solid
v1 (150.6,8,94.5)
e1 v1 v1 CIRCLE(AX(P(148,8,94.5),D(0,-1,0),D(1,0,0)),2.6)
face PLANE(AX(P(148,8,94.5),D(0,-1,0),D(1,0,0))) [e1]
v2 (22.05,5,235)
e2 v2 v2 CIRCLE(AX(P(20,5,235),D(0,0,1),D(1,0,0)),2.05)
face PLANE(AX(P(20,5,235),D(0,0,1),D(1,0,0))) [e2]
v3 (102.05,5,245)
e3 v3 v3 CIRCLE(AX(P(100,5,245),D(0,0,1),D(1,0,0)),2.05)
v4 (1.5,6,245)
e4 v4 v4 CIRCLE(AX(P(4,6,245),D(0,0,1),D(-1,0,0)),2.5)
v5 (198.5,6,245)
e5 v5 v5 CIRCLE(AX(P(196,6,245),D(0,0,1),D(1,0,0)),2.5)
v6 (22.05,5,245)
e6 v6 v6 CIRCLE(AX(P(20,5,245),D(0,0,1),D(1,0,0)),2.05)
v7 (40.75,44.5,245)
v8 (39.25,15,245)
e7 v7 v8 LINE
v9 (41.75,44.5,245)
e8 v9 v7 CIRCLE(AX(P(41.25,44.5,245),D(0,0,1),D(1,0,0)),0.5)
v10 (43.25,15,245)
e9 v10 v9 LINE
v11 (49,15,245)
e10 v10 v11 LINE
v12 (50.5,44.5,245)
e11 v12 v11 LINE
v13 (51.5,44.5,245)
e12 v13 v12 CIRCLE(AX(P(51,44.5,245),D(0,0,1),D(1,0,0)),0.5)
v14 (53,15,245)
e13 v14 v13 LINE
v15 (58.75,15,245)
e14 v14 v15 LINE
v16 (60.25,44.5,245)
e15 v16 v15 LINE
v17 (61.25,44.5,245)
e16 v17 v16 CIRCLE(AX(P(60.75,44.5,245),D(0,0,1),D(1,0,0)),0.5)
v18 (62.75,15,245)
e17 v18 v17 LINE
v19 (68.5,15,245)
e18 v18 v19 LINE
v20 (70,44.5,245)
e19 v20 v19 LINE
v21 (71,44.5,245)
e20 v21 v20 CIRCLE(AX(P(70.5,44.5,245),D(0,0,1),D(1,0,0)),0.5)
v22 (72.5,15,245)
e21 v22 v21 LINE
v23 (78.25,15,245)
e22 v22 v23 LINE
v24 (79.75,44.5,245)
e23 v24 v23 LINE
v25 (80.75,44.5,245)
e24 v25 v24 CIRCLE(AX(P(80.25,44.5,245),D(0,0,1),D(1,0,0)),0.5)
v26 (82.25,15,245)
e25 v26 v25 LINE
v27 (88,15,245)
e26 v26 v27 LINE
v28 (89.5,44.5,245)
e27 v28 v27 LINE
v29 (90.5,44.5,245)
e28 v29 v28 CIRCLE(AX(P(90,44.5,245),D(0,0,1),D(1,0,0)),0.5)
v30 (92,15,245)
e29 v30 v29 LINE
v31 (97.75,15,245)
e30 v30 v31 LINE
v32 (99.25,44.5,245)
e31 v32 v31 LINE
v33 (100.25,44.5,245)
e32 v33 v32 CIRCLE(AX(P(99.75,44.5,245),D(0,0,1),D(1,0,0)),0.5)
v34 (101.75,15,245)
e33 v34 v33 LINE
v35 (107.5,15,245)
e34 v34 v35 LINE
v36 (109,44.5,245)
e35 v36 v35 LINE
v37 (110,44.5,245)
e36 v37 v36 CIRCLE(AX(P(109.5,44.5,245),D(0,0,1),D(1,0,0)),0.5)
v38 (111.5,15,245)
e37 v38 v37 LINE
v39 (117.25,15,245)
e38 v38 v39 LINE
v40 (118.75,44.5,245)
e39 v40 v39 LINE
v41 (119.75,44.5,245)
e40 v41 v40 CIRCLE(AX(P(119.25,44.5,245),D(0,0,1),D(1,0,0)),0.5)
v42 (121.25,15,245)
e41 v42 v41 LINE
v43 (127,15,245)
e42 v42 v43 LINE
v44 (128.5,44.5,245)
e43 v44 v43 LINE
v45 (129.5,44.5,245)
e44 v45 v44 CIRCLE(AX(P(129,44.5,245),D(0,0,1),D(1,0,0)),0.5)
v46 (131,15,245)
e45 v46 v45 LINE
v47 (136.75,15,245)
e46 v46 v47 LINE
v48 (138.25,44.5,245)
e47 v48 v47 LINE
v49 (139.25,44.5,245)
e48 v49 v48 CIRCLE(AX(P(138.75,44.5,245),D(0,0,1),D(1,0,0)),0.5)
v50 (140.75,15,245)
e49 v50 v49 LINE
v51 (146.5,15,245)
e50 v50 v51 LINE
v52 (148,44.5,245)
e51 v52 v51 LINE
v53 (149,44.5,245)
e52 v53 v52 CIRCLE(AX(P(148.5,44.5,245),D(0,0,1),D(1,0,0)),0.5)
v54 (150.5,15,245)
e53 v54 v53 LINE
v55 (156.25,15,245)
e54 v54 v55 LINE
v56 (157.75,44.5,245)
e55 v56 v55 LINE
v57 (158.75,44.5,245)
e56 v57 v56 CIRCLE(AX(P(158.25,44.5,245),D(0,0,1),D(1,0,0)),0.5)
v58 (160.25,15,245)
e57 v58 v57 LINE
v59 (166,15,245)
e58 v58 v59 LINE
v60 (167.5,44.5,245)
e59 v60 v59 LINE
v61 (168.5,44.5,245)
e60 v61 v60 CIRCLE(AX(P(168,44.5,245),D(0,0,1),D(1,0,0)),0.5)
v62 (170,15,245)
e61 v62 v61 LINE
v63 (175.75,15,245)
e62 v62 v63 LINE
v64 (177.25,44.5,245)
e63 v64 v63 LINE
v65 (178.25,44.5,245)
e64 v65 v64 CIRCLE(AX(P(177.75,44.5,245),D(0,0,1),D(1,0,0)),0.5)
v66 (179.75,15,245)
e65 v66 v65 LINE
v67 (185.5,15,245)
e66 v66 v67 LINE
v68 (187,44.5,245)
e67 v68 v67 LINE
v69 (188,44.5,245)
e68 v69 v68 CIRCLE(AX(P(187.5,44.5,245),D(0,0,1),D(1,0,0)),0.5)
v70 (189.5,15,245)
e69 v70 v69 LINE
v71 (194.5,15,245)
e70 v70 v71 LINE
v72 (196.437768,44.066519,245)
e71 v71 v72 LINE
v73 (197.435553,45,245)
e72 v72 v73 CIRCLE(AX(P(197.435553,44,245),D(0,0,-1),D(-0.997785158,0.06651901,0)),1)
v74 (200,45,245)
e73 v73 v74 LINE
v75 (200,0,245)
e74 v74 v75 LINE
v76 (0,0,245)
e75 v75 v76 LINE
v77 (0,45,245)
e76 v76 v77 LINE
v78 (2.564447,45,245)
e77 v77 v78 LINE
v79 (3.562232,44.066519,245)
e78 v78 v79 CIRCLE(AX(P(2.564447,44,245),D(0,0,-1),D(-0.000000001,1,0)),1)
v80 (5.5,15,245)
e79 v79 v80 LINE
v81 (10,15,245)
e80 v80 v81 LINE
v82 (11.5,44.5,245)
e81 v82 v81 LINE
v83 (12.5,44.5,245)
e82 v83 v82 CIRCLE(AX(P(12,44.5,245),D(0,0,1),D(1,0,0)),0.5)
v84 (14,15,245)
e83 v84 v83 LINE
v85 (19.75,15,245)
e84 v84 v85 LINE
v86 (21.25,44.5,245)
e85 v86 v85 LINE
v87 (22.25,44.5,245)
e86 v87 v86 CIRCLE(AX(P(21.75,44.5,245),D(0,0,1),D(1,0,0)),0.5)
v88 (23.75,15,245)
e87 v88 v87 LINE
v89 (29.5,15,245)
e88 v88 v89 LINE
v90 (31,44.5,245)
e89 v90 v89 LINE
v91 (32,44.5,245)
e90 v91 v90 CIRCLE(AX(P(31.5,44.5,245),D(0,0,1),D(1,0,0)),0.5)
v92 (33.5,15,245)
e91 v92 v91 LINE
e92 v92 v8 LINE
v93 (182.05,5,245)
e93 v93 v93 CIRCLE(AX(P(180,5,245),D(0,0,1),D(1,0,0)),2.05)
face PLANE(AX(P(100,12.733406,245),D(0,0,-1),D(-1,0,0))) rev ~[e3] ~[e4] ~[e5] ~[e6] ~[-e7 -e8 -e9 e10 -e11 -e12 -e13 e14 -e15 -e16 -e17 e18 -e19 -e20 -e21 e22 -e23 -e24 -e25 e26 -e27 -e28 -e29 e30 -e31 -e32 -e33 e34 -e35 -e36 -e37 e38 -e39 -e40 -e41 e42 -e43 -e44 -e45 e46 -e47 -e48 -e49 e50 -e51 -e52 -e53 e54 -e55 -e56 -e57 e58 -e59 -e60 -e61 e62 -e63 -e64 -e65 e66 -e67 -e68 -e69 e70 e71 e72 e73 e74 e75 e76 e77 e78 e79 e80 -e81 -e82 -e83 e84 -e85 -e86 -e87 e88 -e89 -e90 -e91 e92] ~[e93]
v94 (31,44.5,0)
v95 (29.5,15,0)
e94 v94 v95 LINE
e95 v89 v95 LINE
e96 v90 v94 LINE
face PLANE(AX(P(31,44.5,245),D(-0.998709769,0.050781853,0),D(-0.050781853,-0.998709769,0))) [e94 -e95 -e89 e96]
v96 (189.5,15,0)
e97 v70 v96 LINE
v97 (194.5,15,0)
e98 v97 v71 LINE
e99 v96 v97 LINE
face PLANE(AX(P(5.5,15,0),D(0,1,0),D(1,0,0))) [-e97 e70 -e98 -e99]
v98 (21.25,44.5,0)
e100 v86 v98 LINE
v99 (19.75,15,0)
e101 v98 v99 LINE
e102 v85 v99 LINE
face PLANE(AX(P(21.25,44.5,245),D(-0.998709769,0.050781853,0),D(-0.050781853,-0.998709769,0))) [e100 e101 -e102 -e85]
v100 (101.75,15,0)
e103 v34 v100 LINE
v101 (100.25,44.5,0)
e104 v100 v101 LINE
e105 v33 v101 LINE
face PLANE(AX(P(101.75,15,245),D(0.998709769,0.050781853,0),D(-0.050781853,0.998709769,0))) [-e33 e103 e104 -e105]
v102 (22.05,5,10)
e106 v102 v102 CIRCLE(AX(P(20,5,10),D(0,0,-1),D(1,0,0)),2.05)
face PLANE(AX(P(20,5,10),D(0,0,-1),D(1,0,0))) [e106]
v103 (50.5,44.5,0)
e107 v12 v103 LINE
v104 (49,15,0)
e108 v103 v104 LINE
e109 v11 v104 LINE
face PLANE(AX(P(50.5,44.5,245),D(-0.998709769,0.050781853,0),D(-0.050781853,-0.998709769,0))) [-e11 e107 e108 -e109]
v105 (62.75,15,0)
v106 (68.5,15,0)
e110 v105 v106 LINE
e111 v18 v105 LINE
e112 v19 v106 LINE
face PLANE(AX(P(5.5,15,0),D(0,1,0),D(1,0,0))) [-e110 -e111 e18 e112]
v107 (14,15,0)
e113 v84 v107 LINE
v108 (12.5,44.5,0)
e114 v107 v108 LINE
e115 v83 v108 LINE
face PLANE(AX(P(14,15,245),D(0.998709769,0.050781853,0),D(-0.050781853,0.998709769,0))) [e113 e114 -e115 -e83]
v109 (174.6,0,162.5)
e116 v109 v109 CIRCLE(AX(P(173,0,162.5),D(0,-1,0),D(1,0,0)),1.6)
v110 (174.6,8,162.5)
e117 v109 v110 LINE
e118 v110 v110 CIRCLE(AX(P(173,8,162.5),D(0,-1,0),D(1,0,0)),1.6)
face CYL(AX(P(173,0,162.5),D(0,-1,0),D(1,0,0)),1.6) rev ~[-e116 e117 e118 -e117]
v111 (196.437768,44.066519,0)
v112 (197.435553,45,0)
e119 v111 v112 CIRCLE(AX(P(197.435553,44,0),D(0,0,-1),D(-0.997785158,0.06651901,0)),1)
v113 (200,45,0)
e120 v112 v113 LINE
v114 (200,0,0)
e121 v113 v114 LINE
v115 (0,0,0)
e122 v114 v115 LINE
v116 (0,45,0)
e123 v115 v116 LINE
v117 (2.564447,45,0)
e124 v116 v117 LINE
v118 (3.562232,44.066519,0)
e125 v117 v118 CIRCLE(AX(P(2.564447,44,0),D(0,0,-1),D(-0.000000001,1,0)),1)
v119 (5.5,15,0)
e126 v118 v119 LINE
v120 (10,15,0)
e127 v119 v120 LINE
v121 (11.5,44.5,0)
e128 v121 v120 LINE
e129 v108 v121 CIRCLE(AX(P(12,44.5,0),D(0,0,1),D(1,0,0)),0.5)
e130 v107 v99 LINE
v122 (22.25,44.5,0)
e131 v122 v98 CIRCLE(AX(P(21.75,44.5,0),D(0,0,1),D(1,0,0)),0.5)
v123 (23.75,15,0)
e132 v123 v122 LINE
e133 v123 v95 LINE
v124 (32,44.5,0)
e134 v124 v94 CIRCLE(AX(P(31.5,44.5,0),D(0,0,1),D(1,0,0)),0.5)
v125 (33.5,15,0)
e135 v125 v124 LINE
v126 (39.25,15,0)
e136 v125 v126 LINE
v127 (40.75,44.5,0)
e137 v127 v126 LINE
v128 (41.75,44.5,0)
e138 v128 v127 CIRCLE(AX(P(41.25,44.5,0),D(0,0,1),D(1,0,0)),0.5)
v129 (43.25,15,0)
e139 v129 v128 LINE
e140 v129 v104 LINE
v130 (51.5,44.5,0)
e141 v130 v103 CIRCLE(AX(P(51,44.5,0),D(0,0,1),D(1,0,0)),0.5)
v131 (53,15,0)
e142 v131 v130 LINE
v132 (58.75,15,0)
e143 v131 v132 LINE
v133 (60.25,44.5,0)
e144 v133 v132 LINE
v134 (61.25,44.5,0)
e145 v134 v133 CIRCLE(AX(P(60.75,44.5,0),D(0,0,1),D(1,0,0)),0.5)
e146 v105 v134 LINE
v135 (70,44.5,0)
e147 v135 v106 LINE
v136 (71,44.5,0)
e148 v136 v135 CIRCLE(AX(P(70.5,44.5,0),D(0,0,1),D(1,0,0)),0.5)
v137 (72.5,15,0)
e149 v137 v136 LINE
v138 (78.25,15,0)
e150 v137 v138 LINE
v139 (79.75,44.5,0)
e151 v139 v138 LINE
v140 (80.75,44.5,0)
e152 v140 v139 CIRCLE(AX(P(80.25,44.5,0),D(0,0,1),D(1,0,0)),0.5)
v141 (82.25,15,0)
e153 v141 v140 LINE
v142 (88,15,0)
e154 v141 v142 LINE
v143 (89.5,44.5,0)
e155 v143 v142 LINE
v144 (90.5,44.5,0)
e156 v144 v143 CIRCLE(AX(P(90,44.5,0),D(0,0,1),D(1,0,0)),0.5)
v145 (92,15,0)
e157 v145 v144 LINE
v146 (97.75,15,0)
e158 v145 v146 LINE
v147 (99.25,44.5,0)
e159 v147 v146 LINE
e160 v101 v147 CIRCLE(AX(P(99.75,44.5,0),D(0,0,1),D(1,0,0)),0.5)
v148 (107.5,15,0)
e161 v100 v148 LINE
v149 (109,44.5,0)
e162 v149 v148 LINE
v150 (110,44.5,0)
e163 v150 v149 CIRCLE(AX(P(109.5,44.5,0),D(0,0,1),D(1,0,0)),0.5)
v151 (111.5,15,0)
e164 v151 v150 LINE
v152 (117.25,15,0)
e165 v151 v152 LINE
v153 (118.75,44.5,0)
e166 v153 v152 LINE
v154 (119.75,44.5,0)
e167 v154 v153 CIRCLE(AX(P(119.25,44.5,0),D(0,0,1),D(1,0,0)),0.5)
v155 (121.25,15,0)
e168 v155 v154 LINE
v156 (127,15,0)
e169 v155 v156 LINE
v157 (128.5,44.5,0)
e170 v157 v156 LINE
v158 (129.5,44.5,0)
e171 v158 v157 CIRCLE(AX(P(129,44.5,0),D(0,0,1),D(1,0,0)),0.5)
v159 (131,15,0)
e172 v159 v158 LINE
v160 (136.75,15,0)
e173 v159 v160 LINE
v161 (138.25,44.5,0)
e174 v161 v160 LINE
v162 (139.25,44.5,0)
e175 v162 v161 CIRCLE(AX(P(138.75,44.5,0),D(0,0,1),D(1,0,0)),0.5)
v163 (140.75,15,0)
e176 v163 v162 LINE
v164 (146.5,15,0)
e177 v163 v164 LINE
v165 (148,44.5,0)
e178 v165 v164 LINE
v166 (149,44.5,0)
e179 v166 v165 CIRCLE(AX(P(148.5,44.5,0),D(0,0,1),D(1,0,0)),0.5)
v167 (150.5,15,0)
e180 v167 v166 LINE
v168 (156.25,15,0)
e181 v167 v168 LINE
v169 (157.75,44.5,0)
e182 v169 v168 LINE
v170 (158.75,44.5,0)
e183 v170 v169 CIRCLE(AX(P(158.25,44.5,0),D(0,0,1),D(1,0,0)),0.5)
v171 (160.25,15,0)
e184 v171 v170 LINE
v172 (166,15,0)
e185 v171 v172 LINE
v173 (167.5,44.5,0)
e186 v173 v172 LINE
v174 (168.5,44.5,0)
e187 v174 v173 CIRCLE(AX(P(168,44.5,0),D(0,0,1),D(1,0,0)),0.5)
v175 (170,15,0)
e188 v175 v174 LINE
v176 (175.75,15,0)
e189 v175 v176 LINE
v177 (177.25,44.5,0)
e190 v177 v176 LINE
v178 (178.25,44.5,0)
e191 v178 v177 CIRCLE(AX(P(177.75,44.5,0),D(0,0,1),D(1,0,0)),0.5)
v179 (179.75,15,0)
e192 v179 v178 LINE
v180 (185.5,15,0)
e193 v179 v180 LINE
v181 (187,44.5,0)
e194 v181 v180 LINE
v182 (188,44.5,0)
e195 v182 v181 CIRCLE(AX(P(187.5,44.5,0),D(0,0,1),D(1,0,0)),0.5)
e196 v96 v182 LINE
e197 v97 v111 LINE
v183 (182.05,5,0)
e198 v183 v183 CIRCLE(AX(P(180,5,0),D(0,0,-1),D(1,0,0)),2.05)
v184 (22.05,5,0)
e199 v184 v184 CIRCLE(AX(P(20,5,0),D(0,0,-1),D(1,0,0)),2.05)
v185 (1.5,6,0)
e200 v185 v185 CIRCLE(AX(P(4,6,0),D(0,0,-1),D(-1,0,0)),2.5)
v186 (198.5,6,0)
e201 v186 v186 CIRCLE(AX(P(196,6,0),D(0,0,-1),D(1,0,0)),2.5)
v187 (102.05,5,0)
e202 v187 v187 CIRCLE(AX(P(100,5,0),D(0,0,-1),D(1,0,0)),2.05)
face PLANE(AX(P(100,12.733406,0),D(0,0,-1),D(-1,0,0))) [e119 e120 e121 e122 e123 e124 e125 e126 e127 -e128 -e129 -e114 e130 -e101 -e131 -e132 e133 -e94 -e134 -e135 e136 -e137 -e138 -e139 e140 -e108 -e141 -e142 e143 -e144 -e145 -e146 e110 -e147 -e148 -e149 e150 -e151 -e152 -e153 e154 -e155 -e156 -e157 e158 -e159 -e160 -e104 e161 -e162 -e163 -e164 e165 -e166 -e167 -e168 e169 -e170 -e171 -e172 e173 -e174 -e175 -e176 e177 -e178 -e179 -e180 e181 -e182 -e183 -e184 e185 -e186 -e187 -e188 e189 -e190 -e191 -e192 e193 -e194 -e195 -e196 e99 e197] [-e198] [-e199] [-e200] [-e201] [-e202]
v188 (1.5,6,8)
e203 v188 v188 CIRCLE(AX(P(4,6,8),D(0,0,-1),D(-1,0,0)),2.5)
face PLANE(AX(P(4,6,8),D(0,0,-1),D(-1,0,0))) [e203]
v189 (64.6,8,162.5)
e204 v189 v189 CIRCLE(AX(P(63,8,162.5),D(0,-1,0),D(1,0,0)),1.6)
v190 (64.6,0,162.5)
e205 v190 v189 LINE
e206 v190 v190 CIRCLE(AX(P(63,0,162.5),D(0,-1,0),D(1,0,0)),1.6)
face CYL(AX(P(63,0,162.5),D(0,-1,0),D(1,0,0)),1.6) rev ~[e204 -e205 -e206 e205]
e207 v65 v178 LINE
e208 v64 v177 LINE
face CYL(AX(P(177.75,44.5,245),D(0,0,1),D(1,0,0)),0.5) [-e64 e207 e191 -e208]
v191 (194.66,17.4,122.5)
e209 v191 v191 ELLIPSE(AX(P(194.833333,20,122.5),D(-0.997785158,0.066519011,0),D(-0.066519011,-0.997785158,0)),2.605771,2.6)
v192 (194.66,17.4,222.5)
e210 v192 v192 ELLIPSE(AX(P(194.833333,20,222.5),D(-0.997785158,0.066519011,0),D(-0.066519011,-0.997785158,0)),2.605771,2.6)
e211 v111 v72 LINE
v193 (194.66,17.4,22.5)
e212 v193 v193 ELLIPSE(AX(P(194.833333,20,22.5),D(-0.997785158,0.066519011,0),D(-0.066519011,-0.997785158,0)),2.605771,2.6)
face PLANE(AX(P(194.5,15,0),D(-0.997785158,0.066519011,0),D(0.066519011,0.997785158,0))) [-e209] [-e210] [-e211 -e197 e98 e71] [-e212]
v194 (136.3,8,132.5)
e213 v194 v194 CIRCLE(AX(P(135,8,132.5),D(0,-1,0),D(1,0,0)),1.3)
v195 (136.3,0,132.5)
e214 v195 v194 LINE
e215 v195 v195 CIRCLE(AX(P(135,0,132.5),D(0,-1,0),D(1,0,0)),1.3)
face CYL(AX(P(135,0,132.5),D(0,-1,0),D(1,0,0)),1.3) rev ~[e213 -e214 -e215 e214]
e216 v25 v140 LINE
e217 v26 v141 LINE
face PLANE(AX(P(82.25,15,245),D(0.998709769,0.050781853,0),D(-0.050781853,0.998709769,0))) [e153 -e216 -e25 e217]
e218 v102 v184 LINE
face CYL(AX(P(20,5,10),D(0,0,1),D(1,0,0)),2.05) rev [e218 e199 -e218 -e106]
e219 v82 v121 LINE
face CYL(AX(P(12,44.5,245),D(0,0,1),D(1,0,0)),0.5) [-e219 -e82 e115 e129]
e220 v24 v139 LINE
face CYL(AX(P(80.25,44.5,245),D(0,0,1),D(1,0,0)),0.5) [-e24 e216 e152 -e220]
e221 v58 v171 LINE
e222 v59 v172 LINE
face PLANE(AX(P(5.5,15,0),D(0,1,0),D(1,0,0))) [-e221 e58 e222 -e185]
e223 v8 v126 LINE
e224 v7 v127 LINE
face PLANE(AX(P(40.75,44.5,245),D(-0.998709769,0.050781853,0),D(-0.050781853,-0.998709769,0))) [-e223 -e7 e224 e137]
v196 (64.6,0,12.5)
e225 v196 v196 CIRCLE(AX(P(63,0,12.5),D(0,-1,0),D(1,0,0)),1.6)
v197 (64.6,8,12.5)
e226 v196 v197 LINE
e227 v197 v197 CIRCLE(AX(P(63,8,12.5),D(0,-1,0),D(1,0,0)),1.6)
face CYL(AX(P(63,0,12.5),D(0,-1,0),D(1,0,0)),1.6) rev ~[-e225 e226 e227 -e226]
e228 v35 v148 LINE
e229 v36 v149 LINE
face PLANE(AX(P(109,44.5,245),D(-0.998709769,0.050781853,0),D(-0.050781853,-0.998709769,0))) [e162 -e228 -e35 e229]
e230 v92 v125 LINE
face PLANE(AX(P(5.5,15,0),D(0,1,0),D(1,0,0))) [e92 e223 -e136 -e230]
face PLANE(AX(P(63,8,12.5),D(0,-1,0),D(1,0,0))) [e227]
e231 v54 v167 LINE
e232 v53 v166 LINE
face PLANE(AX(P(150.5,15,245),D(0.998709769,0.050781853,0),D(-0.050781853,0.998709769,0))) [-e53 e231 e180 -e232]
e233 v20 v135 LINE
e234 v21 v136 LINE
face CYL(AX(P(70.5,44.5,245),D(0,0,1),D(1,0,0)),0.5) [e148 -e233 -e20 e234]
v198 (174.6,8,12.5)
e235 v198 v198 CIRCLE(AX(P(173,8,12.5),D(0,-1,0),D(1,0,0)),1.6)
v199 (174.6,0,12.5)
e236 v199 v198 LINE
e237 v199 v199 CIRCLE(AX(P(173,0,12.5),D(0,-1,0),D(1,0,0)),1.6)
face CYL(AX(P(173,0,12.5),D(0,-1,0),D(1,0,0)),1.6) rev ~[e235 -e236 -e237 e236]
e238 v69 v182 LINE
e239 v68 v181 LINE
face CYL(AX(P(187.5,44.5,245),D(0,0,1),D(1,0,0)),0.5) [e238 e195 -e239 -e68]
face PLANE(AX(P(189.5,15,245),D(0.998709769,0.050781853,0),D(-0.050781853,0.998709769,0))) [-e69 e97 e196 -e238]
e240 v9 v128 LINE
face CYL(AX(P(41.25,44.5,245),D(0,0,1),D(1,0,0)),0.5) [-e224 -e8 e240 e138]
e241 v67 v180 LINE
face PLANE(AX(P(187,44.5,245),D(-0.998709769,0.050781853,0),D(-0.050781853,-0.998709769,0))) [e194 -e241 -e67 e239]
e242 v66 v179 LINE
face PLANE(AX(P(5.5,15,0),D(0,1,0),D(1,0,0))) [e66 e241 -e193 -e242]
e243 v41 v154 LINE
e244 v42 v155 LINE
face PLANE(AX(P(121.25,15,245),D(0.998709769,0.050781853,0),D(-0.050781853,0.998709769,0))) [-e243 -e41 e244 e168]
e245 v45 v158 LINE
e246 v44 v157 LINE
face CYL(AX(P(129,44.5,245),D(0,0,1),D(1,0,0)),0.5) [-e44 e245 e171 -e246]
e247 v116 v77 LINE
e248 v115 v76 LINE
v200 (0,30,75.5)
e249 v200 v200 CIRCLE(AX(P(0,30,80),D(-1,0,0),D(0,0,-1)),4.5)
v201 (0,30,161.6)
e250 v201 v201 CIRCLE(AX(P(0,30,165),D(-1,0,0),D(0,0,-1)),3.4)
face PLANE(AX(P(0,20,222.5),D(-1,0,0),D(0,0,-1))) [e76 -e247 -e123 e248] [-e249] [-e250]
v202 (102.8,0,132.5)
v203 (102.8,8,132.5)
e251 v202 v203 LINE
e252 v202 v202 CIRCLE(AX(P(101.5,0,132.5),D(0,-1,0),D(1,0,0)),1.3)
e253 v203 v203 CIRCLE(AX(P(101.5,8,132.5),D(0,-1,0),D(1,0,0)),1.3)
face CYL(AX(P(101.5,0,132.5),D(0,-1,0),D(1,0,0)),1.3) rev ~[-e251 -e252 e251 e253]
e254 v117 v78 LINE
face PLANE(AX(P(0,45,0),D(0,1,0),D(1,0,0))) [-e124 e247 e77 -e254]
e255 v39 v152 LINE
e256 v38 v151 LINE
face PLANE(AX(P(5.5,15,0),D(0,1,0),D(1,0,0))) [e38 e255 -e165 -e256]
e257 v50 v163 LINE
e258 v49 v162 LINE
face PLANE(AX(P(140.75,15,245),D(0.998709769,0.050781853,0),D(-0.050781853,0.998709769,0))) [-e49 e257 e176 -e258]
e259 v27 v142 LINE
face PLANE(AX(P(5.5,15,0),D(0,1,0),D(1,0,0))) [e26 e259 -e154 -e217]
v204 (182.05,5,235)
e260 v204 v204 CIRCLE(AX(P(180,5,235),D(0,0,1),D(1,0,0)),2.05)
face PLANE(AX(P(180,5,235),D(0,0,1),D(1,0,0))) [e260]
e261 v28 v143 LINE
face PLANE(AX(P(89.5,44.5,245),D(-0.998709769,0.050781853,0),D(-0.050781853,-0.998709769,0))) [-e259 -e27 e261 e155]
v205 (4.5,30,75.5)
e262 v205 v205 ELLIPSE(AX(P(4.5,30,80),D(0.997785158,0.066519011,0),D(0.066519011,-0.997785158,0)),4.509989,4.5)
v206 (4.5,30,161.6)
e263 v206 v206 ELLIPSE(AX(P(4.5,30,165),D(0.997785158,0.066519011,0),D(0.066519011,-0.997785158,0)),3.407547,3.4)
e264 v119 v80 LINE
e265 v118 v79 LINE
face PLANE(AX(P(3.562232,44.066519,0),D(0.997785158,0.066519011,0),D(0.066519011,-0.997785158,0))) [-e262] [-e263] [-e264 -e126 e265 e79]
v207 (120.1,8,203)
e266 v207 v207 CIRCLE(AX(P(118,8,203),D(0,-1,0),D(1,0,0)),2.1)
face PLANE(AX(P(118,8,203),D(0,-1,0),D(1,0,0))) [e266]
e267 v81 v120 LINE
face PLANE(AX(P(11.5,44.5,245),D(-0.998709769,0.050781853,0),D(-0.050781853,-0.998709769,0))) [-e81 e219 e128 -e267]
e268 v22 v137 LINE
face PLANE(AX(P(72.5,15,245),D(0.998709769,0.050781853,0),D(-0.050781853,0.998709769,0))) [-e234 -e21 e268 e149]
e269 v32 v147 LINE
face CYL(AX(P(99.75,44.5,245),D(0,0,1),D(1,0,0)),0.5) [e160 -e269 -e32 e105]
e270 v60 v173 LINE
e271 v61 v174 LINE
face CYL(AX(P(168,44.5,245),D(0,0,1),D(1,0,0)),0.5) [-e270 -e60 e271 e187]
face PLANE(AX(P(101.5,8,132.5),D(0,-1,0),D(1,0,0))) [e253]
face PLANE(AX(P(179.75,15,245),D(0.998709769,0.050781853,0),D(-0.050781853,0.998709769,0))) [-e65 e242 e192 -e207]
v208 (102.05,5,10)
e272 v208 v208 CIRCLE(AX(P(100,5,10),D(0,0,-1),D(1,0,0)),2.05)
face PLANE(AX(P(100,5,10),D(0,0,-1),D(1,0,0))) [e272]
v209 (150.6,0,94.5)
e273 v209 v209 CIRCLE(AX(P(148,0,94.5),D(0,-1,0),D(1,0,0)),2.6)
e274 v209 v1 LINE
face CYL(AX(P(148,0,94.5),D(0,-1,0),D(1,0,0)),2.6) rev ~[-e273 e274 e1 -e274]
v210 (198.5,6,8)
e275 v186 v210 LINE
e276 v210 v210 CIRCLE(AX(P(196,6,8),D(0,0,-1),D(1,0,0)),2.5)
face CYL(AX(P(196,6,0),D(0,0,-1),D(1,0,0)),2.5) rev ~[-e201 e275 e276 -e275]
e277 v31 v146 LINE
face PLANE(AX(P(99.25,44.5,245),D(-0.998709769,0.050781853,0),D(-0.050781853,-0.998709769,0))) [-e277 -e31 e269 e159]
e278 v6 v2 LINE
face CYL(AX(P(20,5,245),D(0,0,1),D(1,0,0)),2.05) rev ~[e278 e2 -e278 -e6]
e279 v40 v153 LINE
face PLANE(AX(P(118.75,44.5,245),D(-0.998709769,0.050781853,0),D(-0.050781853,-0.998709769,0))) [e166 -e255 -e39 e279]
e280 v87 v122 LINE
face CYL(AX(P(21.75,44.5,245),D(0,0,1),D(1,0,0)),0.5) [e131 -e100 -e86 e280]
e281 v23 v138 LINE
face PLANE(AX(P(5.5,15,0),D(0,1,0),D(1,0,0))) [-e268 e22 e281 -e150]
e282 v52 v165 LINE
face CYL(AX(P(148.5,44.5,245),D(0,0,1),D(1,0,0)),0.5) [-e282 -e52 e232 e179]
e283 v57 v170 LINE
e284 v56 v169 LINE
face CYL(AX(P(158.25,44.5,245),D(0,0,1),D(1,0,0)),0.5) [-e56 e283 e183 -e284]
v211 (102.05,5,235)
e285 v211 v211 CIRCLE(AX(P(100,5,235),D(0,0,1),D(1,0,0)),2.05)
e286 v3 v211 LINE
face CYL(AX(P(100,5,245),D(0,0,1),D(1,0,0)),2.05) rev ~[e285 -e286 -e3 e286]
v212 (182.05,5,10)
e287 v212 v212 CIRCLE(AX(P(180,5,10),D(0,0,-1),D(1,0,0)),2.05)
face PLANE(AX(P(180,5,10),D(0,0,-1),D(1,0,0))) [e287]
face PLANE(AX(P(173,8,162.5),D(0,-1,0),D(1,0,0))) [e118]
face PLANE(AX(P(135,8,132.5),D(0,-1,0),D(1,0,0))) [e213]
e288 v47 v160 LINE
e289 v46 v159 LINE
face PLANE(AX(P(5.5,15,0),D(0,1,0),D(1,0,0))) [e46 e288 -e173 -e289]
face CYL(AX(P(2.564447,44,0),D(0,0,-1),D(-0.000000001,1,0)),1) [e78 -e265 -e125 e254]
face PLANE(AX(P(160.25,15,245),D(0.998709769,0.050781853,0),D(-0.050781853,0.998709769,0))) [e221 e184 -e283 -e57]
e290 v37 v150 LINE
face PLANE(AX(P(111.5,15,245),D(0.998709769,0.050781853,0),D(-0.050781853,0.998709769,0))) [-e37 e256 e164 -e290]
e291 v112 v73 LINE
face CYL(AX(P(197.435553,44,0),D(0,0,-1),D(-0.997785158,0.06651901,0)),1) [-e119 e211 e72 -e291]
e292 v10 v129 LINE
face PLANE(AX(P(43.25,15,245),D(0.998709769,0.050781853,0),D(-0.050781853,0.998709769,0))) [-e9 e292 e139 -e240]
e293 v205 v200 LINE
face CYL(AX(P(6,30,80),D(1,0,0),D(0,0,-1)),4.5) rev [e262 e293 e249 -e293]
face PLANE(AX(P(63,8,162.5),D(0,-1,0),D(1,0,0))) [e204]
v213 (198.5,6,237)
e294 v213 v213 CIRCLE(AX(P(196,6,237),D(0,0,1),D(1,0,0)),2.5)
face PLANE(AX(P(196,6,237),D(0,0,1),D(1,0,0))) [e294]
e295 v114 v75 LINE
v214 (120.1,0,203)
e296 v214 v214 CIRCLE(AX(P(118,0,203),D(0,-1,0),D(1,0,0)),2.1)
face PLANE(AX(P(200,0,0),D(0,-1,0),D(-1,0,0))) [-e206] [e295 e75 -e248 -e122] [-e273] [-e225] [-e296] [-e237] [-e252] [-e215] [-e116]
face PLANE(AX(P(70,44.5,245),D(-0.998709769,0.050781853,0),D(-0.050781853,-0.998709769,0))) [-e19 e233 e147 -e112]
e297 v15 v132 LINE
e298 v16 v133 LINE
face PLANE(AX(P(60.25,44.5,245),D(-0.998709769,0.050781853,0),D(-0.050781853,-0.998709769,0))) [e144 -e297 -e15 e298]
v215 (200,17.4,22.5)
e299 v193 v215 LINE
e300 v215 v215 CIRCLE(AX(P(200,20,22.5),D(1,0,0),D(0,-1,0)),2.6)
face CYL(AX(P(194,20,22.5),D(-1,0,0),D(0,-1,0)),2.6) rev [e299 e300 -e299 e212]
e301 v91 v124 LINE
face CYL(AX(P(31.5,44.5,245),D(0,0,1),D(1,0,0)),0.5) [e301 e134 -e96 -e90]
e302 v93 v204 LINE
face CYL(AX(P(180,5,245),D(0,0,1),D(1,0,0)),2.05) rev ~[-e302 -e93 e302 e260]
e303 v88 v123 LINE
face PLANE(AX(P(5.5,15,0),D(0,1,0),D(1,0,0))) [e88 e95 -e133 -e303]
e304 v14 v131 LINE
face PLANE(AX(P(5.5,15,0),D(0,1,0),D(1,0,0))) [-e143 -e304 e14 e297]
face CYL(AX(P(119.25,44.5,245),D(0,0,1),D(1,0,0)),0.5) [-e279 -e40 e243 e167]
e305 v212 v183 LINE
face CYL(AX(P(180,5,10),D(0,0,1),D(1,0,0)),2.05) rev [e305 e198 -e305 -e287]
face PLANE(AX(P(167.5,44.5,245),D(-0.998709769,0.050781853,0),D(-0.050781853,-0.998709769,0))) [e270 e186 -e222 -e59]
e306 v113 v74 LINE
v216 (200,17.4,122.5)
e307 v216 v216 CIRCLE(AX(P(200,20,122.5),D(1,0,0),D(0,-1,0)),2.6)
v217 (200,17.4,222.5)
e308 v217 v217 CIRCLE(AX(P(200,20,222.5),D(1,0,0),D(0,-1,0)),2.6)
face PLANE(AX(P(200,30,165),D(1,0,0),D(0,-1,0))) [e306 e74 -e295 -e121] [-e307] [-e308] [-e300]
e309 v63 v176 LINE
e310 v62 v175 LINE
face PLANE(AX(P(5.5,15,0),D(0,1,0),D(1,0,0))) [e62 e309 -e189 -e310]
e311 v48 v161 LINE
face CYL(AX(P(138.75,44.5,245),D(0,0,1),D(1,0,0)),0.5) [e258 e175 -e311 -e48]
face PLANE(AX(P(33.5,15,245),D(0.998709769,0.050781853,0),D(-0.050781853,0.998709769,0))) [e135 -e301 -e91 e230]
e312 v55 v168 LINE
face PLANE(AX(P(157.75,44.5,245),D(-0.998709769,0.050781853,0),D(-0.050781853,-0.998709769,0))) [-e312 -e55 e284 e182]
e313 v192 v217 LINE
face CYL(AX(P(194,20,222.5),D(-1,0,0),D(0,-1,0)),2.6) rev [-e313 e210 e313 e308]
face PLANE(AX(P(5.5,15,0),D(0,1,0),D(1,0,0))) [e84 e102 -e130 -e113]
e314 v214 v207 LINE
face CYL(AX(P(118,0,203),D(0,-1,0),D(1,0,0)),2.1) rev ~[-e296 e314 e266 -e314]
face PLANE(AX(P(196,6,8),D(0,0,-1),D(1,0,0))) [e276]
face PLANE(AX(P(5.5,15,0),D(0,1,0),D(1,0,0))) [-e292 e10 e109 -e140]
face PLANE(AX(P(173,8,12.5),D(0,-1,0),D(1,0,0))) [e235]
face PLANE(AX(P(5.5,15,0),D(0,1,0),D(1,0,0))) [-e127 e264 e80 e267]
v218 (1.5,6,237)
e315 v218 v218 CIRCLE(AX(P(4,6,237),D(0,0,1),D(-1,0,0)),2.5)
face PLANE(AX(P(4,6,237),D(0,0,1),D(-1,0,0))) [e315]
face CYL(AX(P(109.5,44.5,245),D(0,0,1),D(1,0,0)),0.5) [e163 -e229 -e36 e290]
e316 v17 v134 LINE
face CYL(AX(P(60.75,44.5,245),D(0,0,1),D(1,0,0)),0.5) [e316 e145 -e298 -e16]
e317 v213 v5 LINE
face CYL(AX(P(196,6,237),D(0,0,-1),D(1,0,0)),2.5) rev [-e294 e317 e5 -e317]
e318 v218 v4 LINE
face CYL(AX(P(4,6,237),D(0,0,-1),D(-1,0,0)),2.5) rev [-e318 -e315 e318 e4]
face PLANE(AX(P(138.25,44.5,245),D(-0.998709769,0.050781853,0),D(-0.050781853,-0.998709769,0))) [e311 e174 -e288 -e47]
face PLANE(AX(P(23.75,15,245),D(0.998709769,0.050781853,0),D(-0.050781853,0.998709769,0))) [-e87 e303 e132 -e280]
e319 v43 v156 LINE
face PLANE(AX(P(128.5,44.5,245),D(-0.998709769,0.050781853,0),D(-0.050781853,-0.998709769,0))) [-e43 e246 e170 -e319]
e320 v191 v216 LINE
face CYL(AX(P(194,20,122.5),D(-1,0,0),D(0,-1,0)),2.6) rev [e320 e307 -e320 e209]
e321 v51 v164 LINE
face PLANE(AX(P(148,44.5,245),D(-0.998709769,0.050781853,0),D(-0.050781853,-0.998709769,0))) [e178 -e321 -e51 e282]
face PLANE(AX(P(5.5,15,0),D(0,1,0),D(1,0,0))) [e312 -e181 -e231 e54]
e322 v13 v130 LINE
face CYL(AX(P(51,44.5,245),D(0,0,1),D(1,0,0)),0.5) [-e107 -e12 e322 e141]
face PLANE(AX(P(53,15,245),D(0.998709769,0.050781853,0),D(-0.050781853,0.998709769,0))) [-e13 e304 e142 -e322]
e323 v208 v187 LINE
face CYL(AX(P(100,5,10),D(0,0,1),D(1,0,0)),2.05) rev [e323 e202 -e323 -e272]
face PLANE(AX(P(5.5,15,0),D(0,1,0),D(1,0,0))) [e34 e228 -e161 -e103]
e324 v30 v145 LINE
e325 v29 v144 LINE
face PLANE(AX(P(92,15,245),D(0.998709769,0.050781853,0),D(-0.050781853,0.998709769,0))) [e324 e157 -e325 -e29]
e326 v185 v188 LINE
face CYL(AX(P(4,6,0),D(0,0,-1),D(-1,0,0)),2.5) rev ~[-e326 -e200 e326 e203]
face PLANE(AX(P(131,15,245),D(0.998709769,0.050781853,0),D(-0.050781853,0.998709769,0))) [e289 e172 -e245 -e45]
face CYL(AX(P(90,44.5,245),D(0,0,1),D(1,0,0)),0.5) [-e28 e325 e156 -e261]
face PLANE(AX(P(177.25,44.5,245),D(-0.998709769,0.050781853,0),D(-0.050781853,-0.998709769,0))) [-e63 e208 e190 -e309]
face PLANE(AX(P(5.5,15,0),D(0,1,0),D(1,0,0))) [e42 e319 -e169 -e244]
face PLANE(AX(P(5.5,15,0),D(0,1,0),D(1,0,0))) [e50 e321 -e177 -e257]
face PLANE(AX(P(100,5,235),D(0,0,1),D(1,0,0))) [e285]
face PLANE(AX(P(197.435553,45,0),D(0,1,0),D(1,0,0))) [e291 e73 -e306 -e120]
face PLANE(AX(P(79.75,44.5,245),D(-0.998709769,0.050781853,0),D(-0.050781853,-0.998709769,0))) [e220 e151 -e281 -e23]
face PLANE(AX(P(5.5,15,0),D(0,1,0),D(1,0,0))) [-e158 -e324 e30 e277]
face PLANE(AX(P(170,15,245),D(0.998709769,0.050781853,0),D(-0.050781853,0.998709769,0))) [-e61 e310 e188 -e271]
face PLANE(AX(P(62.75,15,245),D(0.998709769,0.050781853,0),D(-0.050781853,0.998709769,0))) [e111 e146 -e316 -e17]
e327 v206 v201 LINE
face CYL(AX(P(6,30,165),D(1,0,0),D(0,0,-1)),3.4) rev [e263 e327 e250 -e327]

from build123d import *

# Parameters (mm, degrees)
EXTRUDE_1_DEPTH       = 245
EXTRUDE_3_DEPTH       = 245
PATTERN_CURVE_1_COUNT = 19
PATTERN_CURVE_1_PITCH = 9.75
SKETCH_3_R            = 2.05
CUT_EXTRUDE_1_DEPTH   = 10
CUT_EXTRUDE_START     = -10
SKETCH_5_R            = 2.05
CUT_EXTRUDE_2_DEPTH   = 10
SKETCH_6_R            = 2.5
CUT_EXTRUDE_3_DEPTH   = 8
SKETCH_7_R            = 2.6
CUT_EXTRUDE_4_DEPTH   = 6
SKETCH_8_R            = 4.5
SKETCH_8_R_2          = 3.4
CUT_EXTRUDE_5_DEPTH   = 6
CUT_EXTRUDE_START_2   = -6
SKETCH_9_R            = 2.6
CUT_EXTRUDE_6_DEPTH   = 6
SKETCH_10_R           = 3.4
SKETCH_10_R_2         = 4.5
CUT_EXTRUDE_7_DEPTH   = 6
EXTRUDE_4_REACH       = 321.453
SKETCH_11_R           = 2.6
EXTRUDE_5_REACH       = 321.453
SKETCH_12_R           = 4.5
SKETCH_12_R_2         = 3.4
CUT_EXTRUDE_START_3   = -8
SKETCH_14_R           = 2.5
CUT_EXTRUDE_9_DEPTH   = 8
SKETCH_18_R           = 2.1
SKETCH_18_R_2         = 1.6
SKETCH_18_R_3         = 1.3
SKETCH_18_R_4         = 2.6
CUT_EXTRUDE_11_DEPTH  = 8


with BuildPart() as part:
    # Эскиз1 → Вытянуть1 (new body)
    with BuildSketch(Plane.XY):
        with BuildLine():
            Line((0, 45), (2.564446908, 45))
            ThreePointArc((2.564446908, 45), (3.247630994, 44.730246195), (3.562232066, 44.066519011))
            Line((3.562232066, 44.066519011), (5.5, 15))
            Line((5.5, 15), (194.5, 15))
            Line((194.5, 15), (196.437767934, 44.066519011))
            ThreePointArc((196.437767934, 44.066519011), (196.752369006, 44.730246195), (197.435553092, 45))
            Line((197.435553092, 45), (200, 45))
            Line((200, 45), (200, 0))
            Line((200, 0), (0, 0))
            Line((0, 0), (0, 45))
        make_face()
    extrude(amount=EXTRUDE_1_DEPTH)

    # Эскиз2 → Вытянуть3 (add)
    with BuildSketch(Plane.XY.offset(245)):
        with BuildLine():
            Line((11.5, 44.5), (10, 15))
            Line((10, 15), (14, 15))
            Line((14, 15), (12.5, 44.5))
            ThreePointArc((12.5, 44.5), (12, 45), (11.5, 44.5))
        make_face()
    extrude_3 = extrude(amount=-EXTRUDE_3_DEPTH)

    # Кривая1: Вытянуть3 ×19
    with Locations(*[(i * PATTERN_CURVE_1_PITCH, 0, 0) for i in range(1, PATTERN_CURVE_1_COUNT)]):
        add(extrude_3)

    # Эскиз3 → Вырез-Вытянуть1 (cut)
    with BuildSketch(Plane.XY.offset(245)):
        with Locations((20, 5)):
            Circle(SKETCH_3_R)
        with Locations((100, 5)):
            Circle(SKETCH_3_R)
        with Locations((180, 5)):
            Circle(SKETCH_3_R)
    extrude(amount=-CUT_EXTRUDE_1_DEPTH, mode=Mode.SUBTRACT)

    # Эскиз5 → Вырез-Вытянуть2 (cut)
    with BuildSketch(Plane(origin=(0, 0, 0), x_dir=(-1, 0, 0), z_dir=(0, 0, -1)).offset(CUT_EXTRUDE_START)):
        with Locations(Location((-180, 5, 0), (0, 0, 180))):
            Circle(SKETCH_5_R)
        with Locations(Location((-100, 5, 0), (0, 0, 180))):
            Circle(SKETCH_5_R)
        with Locations(Location((-20, 5, 0), (0, 0, 180))):
            Circle(SKETCH_5_R)
    extrude(amount=CUT_EXTRUDE_2_DEPTH, mode=Mode.SUBTRACT)

    # Эскиз6 → Вырез-Вытянуть3 (cut)
    with BuildSketch(Plane(origin=(0, 0, 0), x_dir=(-1, 0, 0), z_dir=(0, 0, -1))):
        with Locations((-4, 6)):
            Circle(SKETCH_6_R)
        with Locations(Location((-196, 6, 0), (0, 0, 180))):
            Circle(SKETCH_6_R)
    extrude(amount=-CUT_EXTRUDE_3_DEPTH, mode=Mode.SUBTRACT)

    # Эскиз7 → Вырез-Вытянуть4 (cut)
    with BuildSketch(Plane.ZY):
        with Locations(Location((22.5, 20, 0), (0, 0, 270))):
            Circle(SKETCH_7_R)
        with Locations(Location((222.5, 20, 0), (0, 0, 270))):
            Circle(SKETCH_7_R)
        with Locations(Location((122.5, 20, 0), (0, 0, 270))):
            Circle(SKETCH_7_R)
    extrude(amount=-CUT_EXTRUDE_4_DEPTH, mode=Mode.SUBTRACT)

    # Эскиз8 → Вырез-Вытянуть5 (cut)
    with BuildSketch(Plane(origin=(200, 0, 0), x_dir=(0, 0, -1), z_dir=(1, 0, 0))):
        with Locations((-80, 30)):
            Circle(SKETCH_8_R)
        with Locations((-165, 30)):
            Circle(SKETCH_8_R_2)
    extrude(amount=-CUT_EXTRUDE_5_DEPTH, mode=Mode.SUBTRACT)

    # Эскиз9 → Вырез-Вытянуть6 (cut)
    with BuildSketch(Plane(origin=(200, 0, 0), x_dir=(0, 0, -1), z_dir=(1, 0, 0)).offset(CUT_EXTRUDE_START_2)):
        with Locations(Location((-22.5, 20, 0), (0, 0, 270))):
            Circle(SKETCH_9_R)
        with Locations(Location((-122.5, 20, 0), (0, 0, 270))):
            Circle(SKETCH_9_R)
        with Locations(Location((-222.5, 20, 0), (0, 0, 270))):
            Circle(SKETCH_9_R)
    extrude(amount=CUT_EXTRUDE_6_DEPTH, mode=Mode.SUBTRACT)

    # Эскиз10 → Вырез-Вытянуть7 (cut)
    with BuildSketch(Plane.ZY.offset(CUT_EXTRUDE_START_2)):
        with Locations(Location((165, 30, 0), (0, 0, 180))):
            Circle(SKETCH_10_R)
        with Locations(Location((80, 30, 0), (0, 0, 180))):
            Circle(SKETCH_10_R_2)
    extrude(amount=CUT_EXTRUDE_7_DEPTH, mode=Mode.SUBTRACT)

    # Вытянуть4: up to this face of the body (flat: up to its plane)
    extrude_4_end = Plane(part.part.faces().sort_by_distance((4.525743195, 29.613852069, 122.666761542))[0])
    # Эскиз11 → Вытянуть4 (add, up to the picked face)
    with BuildSketch(Plane.ZY, mode=Mode.PRIVATE) as extrude_4_sk1:
        with Locations(Location((22.5, 20, 0), (0, 0, 180))):
            Circle(SKETCH_11_R)
    extrude_4_tool1 = split(extrude(extrude_4_sk1.sketch, amount=-EXTRUDE_4_REACH, mode=Mode.PRIVATE), bisect_by=extrude_4_end, keep=Keep.BOTH, mode=Mode.PRIVATE)
    # Эскиз11 → Вытянуть4 (add, up to the picked face)
    with BuildSketch(Plane.ZY, mode=Mode.PRIVATE) as extrude_4_sk2:
        with Locations(Location((122.5, 20, 0), (0, 0, 180))):
            Circle(SKETCH_11_R)
    extrude_4_tool2 = split(extrude(extrude_4_sk2.sketch, amount=-EXTRUDE_4_REACH, mode=Mode.PRIVATE), bisect_by=extrude_4_end, keep=Keep.BOTH, mode=Mode.PRIVATE)
    # Эскиз11 → Вытянуть4 (add, up to the picked face)
    with BuildSketch(Plane.ZY, mode=Mode.PRIVATE) as extrude_4_sk3:
        with Locations(Location((222.5, 20, 0), (0, 0, 180))):
            Circle(SKETCH_11_R)
    extrude_4_tool3 = split(extrude(extrude_4_sk3.sketch, amount=-EXTRUDE_4_REACH, mode=Mode.PRIVATE), bisect_by=extrude_4_end, keep=Keep.BOTH, mode=Mode.PRIVATE)
    add(extrude_4_tool1.solids().sort_by(Axis((0, 20, 22.5), (1, 0, 0)))[0])
    add(extrude_4_tool2.solids().sort_by(Axis((0, 20, 122.5), (1, 0, 0)))[0])
    add(extrude_4_tool3.solids().sort_by(Axis((0, 20, 222.5), (1, 0, 0)))[0])

    # Вытянуть5: up to this face of the body (flat: up to its plane)
    extrude_5_end = Plane(part.part.faces().sort_by_distance((195.474256805, 29.613852069, 122.666761542))[0])
    # Эскиз12 → Вытянуть5 (add, up to the picked face)
    with BuildSketch(Plane(origin=(200, 0, 0), x_dir=(0, 0, -1), z_dir=(1, 0, 0)), mode=Mode.PRIVATE) as extrude_5_sk1:
        with Locations(Location((-80, 30, 0), (0, 0, 270))):
            Circle(SKETCH_12_R)
    extrude_5_tool1 = split(extrude(extrude_5_sk1.sketch, amount=-EXTRUDE_5_REACH, mode=Mode.PRIVATE), bisect_by=extrude_5_end, keep=Keep.BOTH, mode=Mode.PRIVATE)
    # Эскиз12 → Вытянуть5 (add, up to the picked face)
    with BuildSketch(Plane(origin=(200, 0, 0), x_dir=(0, 0, -1), z_dir=(1, 0, 0)), mode=Mode.PRIVATE) as extrude_5_sk2:
        with Locations(Location((-165, 30, 0), (0, 0, 270))):
            Circle(SKETCH_12_R_2)
    extrude_5_tool2 = split(extrude(extrude_5_sk2.sketch, amount=-EXTRUDE_5_REACH, mode=Mode.PRIVATE), bisect_by=extrude_5_end, keep=Keep.BOTH, mode=Mode.PRIVATE)
    add(extrude_5_tool1.solids().sort_by(Axis((200, 30, 80), (-1, 0, 0)))[0])
    add(extrude_5_tool2.solids().sort_by(Axis((200, 30, 165), (-1, 0, 0)))[0])

    # Эскиз14 → Вырез-Вытянуть9 (cut)
    with BuildSketch(Plane.XY.offset(245).offset(CUT_EXTRUDE_START_3)):
        with Locations(Location((4, 6, 0), (0, 0, 180))):
            Circle(SKETCH_14_R)
        with Locations((196, 6)):
            Circle(SKETCH_14_R)
    extrude(amount=CUT_EXTRUDE_9_DEPTH, mode=Mode.SUBTRACT)

    # Эскиз18 → Вырез-Вытянуть11 (cut)
    with BuildSketch(Plane.XZ):
        with Locations((118, 203)):
            Circle(SKETCH_18_R)
        with Locations((63, 12.5)):
            Circle(SKETCH_18_R_2)
        with Locations((173, 12.5)):
            Circle(SKETCH_18_R_2)
        with Locations((173, 162.5)):
            Circle(SKETCH_18_R_2)
        with Locations((63, 162.5)):
            Circle(SKETCH_18_R_2)
        with Locations((101.5, 132.5)):
            Circle(SKETCH_18_R_3)
        with Locations((135, 132.5)):
            Circle(SKETCH_18_R_3)
        with Locations((148, 94.5)):
            Circle(SKETCH_18_R_4)
    extrude(amount=-CUT_EXTRUDE_11_DEPTH, mode=Mode.SUBTRACT)


solid = part.part
